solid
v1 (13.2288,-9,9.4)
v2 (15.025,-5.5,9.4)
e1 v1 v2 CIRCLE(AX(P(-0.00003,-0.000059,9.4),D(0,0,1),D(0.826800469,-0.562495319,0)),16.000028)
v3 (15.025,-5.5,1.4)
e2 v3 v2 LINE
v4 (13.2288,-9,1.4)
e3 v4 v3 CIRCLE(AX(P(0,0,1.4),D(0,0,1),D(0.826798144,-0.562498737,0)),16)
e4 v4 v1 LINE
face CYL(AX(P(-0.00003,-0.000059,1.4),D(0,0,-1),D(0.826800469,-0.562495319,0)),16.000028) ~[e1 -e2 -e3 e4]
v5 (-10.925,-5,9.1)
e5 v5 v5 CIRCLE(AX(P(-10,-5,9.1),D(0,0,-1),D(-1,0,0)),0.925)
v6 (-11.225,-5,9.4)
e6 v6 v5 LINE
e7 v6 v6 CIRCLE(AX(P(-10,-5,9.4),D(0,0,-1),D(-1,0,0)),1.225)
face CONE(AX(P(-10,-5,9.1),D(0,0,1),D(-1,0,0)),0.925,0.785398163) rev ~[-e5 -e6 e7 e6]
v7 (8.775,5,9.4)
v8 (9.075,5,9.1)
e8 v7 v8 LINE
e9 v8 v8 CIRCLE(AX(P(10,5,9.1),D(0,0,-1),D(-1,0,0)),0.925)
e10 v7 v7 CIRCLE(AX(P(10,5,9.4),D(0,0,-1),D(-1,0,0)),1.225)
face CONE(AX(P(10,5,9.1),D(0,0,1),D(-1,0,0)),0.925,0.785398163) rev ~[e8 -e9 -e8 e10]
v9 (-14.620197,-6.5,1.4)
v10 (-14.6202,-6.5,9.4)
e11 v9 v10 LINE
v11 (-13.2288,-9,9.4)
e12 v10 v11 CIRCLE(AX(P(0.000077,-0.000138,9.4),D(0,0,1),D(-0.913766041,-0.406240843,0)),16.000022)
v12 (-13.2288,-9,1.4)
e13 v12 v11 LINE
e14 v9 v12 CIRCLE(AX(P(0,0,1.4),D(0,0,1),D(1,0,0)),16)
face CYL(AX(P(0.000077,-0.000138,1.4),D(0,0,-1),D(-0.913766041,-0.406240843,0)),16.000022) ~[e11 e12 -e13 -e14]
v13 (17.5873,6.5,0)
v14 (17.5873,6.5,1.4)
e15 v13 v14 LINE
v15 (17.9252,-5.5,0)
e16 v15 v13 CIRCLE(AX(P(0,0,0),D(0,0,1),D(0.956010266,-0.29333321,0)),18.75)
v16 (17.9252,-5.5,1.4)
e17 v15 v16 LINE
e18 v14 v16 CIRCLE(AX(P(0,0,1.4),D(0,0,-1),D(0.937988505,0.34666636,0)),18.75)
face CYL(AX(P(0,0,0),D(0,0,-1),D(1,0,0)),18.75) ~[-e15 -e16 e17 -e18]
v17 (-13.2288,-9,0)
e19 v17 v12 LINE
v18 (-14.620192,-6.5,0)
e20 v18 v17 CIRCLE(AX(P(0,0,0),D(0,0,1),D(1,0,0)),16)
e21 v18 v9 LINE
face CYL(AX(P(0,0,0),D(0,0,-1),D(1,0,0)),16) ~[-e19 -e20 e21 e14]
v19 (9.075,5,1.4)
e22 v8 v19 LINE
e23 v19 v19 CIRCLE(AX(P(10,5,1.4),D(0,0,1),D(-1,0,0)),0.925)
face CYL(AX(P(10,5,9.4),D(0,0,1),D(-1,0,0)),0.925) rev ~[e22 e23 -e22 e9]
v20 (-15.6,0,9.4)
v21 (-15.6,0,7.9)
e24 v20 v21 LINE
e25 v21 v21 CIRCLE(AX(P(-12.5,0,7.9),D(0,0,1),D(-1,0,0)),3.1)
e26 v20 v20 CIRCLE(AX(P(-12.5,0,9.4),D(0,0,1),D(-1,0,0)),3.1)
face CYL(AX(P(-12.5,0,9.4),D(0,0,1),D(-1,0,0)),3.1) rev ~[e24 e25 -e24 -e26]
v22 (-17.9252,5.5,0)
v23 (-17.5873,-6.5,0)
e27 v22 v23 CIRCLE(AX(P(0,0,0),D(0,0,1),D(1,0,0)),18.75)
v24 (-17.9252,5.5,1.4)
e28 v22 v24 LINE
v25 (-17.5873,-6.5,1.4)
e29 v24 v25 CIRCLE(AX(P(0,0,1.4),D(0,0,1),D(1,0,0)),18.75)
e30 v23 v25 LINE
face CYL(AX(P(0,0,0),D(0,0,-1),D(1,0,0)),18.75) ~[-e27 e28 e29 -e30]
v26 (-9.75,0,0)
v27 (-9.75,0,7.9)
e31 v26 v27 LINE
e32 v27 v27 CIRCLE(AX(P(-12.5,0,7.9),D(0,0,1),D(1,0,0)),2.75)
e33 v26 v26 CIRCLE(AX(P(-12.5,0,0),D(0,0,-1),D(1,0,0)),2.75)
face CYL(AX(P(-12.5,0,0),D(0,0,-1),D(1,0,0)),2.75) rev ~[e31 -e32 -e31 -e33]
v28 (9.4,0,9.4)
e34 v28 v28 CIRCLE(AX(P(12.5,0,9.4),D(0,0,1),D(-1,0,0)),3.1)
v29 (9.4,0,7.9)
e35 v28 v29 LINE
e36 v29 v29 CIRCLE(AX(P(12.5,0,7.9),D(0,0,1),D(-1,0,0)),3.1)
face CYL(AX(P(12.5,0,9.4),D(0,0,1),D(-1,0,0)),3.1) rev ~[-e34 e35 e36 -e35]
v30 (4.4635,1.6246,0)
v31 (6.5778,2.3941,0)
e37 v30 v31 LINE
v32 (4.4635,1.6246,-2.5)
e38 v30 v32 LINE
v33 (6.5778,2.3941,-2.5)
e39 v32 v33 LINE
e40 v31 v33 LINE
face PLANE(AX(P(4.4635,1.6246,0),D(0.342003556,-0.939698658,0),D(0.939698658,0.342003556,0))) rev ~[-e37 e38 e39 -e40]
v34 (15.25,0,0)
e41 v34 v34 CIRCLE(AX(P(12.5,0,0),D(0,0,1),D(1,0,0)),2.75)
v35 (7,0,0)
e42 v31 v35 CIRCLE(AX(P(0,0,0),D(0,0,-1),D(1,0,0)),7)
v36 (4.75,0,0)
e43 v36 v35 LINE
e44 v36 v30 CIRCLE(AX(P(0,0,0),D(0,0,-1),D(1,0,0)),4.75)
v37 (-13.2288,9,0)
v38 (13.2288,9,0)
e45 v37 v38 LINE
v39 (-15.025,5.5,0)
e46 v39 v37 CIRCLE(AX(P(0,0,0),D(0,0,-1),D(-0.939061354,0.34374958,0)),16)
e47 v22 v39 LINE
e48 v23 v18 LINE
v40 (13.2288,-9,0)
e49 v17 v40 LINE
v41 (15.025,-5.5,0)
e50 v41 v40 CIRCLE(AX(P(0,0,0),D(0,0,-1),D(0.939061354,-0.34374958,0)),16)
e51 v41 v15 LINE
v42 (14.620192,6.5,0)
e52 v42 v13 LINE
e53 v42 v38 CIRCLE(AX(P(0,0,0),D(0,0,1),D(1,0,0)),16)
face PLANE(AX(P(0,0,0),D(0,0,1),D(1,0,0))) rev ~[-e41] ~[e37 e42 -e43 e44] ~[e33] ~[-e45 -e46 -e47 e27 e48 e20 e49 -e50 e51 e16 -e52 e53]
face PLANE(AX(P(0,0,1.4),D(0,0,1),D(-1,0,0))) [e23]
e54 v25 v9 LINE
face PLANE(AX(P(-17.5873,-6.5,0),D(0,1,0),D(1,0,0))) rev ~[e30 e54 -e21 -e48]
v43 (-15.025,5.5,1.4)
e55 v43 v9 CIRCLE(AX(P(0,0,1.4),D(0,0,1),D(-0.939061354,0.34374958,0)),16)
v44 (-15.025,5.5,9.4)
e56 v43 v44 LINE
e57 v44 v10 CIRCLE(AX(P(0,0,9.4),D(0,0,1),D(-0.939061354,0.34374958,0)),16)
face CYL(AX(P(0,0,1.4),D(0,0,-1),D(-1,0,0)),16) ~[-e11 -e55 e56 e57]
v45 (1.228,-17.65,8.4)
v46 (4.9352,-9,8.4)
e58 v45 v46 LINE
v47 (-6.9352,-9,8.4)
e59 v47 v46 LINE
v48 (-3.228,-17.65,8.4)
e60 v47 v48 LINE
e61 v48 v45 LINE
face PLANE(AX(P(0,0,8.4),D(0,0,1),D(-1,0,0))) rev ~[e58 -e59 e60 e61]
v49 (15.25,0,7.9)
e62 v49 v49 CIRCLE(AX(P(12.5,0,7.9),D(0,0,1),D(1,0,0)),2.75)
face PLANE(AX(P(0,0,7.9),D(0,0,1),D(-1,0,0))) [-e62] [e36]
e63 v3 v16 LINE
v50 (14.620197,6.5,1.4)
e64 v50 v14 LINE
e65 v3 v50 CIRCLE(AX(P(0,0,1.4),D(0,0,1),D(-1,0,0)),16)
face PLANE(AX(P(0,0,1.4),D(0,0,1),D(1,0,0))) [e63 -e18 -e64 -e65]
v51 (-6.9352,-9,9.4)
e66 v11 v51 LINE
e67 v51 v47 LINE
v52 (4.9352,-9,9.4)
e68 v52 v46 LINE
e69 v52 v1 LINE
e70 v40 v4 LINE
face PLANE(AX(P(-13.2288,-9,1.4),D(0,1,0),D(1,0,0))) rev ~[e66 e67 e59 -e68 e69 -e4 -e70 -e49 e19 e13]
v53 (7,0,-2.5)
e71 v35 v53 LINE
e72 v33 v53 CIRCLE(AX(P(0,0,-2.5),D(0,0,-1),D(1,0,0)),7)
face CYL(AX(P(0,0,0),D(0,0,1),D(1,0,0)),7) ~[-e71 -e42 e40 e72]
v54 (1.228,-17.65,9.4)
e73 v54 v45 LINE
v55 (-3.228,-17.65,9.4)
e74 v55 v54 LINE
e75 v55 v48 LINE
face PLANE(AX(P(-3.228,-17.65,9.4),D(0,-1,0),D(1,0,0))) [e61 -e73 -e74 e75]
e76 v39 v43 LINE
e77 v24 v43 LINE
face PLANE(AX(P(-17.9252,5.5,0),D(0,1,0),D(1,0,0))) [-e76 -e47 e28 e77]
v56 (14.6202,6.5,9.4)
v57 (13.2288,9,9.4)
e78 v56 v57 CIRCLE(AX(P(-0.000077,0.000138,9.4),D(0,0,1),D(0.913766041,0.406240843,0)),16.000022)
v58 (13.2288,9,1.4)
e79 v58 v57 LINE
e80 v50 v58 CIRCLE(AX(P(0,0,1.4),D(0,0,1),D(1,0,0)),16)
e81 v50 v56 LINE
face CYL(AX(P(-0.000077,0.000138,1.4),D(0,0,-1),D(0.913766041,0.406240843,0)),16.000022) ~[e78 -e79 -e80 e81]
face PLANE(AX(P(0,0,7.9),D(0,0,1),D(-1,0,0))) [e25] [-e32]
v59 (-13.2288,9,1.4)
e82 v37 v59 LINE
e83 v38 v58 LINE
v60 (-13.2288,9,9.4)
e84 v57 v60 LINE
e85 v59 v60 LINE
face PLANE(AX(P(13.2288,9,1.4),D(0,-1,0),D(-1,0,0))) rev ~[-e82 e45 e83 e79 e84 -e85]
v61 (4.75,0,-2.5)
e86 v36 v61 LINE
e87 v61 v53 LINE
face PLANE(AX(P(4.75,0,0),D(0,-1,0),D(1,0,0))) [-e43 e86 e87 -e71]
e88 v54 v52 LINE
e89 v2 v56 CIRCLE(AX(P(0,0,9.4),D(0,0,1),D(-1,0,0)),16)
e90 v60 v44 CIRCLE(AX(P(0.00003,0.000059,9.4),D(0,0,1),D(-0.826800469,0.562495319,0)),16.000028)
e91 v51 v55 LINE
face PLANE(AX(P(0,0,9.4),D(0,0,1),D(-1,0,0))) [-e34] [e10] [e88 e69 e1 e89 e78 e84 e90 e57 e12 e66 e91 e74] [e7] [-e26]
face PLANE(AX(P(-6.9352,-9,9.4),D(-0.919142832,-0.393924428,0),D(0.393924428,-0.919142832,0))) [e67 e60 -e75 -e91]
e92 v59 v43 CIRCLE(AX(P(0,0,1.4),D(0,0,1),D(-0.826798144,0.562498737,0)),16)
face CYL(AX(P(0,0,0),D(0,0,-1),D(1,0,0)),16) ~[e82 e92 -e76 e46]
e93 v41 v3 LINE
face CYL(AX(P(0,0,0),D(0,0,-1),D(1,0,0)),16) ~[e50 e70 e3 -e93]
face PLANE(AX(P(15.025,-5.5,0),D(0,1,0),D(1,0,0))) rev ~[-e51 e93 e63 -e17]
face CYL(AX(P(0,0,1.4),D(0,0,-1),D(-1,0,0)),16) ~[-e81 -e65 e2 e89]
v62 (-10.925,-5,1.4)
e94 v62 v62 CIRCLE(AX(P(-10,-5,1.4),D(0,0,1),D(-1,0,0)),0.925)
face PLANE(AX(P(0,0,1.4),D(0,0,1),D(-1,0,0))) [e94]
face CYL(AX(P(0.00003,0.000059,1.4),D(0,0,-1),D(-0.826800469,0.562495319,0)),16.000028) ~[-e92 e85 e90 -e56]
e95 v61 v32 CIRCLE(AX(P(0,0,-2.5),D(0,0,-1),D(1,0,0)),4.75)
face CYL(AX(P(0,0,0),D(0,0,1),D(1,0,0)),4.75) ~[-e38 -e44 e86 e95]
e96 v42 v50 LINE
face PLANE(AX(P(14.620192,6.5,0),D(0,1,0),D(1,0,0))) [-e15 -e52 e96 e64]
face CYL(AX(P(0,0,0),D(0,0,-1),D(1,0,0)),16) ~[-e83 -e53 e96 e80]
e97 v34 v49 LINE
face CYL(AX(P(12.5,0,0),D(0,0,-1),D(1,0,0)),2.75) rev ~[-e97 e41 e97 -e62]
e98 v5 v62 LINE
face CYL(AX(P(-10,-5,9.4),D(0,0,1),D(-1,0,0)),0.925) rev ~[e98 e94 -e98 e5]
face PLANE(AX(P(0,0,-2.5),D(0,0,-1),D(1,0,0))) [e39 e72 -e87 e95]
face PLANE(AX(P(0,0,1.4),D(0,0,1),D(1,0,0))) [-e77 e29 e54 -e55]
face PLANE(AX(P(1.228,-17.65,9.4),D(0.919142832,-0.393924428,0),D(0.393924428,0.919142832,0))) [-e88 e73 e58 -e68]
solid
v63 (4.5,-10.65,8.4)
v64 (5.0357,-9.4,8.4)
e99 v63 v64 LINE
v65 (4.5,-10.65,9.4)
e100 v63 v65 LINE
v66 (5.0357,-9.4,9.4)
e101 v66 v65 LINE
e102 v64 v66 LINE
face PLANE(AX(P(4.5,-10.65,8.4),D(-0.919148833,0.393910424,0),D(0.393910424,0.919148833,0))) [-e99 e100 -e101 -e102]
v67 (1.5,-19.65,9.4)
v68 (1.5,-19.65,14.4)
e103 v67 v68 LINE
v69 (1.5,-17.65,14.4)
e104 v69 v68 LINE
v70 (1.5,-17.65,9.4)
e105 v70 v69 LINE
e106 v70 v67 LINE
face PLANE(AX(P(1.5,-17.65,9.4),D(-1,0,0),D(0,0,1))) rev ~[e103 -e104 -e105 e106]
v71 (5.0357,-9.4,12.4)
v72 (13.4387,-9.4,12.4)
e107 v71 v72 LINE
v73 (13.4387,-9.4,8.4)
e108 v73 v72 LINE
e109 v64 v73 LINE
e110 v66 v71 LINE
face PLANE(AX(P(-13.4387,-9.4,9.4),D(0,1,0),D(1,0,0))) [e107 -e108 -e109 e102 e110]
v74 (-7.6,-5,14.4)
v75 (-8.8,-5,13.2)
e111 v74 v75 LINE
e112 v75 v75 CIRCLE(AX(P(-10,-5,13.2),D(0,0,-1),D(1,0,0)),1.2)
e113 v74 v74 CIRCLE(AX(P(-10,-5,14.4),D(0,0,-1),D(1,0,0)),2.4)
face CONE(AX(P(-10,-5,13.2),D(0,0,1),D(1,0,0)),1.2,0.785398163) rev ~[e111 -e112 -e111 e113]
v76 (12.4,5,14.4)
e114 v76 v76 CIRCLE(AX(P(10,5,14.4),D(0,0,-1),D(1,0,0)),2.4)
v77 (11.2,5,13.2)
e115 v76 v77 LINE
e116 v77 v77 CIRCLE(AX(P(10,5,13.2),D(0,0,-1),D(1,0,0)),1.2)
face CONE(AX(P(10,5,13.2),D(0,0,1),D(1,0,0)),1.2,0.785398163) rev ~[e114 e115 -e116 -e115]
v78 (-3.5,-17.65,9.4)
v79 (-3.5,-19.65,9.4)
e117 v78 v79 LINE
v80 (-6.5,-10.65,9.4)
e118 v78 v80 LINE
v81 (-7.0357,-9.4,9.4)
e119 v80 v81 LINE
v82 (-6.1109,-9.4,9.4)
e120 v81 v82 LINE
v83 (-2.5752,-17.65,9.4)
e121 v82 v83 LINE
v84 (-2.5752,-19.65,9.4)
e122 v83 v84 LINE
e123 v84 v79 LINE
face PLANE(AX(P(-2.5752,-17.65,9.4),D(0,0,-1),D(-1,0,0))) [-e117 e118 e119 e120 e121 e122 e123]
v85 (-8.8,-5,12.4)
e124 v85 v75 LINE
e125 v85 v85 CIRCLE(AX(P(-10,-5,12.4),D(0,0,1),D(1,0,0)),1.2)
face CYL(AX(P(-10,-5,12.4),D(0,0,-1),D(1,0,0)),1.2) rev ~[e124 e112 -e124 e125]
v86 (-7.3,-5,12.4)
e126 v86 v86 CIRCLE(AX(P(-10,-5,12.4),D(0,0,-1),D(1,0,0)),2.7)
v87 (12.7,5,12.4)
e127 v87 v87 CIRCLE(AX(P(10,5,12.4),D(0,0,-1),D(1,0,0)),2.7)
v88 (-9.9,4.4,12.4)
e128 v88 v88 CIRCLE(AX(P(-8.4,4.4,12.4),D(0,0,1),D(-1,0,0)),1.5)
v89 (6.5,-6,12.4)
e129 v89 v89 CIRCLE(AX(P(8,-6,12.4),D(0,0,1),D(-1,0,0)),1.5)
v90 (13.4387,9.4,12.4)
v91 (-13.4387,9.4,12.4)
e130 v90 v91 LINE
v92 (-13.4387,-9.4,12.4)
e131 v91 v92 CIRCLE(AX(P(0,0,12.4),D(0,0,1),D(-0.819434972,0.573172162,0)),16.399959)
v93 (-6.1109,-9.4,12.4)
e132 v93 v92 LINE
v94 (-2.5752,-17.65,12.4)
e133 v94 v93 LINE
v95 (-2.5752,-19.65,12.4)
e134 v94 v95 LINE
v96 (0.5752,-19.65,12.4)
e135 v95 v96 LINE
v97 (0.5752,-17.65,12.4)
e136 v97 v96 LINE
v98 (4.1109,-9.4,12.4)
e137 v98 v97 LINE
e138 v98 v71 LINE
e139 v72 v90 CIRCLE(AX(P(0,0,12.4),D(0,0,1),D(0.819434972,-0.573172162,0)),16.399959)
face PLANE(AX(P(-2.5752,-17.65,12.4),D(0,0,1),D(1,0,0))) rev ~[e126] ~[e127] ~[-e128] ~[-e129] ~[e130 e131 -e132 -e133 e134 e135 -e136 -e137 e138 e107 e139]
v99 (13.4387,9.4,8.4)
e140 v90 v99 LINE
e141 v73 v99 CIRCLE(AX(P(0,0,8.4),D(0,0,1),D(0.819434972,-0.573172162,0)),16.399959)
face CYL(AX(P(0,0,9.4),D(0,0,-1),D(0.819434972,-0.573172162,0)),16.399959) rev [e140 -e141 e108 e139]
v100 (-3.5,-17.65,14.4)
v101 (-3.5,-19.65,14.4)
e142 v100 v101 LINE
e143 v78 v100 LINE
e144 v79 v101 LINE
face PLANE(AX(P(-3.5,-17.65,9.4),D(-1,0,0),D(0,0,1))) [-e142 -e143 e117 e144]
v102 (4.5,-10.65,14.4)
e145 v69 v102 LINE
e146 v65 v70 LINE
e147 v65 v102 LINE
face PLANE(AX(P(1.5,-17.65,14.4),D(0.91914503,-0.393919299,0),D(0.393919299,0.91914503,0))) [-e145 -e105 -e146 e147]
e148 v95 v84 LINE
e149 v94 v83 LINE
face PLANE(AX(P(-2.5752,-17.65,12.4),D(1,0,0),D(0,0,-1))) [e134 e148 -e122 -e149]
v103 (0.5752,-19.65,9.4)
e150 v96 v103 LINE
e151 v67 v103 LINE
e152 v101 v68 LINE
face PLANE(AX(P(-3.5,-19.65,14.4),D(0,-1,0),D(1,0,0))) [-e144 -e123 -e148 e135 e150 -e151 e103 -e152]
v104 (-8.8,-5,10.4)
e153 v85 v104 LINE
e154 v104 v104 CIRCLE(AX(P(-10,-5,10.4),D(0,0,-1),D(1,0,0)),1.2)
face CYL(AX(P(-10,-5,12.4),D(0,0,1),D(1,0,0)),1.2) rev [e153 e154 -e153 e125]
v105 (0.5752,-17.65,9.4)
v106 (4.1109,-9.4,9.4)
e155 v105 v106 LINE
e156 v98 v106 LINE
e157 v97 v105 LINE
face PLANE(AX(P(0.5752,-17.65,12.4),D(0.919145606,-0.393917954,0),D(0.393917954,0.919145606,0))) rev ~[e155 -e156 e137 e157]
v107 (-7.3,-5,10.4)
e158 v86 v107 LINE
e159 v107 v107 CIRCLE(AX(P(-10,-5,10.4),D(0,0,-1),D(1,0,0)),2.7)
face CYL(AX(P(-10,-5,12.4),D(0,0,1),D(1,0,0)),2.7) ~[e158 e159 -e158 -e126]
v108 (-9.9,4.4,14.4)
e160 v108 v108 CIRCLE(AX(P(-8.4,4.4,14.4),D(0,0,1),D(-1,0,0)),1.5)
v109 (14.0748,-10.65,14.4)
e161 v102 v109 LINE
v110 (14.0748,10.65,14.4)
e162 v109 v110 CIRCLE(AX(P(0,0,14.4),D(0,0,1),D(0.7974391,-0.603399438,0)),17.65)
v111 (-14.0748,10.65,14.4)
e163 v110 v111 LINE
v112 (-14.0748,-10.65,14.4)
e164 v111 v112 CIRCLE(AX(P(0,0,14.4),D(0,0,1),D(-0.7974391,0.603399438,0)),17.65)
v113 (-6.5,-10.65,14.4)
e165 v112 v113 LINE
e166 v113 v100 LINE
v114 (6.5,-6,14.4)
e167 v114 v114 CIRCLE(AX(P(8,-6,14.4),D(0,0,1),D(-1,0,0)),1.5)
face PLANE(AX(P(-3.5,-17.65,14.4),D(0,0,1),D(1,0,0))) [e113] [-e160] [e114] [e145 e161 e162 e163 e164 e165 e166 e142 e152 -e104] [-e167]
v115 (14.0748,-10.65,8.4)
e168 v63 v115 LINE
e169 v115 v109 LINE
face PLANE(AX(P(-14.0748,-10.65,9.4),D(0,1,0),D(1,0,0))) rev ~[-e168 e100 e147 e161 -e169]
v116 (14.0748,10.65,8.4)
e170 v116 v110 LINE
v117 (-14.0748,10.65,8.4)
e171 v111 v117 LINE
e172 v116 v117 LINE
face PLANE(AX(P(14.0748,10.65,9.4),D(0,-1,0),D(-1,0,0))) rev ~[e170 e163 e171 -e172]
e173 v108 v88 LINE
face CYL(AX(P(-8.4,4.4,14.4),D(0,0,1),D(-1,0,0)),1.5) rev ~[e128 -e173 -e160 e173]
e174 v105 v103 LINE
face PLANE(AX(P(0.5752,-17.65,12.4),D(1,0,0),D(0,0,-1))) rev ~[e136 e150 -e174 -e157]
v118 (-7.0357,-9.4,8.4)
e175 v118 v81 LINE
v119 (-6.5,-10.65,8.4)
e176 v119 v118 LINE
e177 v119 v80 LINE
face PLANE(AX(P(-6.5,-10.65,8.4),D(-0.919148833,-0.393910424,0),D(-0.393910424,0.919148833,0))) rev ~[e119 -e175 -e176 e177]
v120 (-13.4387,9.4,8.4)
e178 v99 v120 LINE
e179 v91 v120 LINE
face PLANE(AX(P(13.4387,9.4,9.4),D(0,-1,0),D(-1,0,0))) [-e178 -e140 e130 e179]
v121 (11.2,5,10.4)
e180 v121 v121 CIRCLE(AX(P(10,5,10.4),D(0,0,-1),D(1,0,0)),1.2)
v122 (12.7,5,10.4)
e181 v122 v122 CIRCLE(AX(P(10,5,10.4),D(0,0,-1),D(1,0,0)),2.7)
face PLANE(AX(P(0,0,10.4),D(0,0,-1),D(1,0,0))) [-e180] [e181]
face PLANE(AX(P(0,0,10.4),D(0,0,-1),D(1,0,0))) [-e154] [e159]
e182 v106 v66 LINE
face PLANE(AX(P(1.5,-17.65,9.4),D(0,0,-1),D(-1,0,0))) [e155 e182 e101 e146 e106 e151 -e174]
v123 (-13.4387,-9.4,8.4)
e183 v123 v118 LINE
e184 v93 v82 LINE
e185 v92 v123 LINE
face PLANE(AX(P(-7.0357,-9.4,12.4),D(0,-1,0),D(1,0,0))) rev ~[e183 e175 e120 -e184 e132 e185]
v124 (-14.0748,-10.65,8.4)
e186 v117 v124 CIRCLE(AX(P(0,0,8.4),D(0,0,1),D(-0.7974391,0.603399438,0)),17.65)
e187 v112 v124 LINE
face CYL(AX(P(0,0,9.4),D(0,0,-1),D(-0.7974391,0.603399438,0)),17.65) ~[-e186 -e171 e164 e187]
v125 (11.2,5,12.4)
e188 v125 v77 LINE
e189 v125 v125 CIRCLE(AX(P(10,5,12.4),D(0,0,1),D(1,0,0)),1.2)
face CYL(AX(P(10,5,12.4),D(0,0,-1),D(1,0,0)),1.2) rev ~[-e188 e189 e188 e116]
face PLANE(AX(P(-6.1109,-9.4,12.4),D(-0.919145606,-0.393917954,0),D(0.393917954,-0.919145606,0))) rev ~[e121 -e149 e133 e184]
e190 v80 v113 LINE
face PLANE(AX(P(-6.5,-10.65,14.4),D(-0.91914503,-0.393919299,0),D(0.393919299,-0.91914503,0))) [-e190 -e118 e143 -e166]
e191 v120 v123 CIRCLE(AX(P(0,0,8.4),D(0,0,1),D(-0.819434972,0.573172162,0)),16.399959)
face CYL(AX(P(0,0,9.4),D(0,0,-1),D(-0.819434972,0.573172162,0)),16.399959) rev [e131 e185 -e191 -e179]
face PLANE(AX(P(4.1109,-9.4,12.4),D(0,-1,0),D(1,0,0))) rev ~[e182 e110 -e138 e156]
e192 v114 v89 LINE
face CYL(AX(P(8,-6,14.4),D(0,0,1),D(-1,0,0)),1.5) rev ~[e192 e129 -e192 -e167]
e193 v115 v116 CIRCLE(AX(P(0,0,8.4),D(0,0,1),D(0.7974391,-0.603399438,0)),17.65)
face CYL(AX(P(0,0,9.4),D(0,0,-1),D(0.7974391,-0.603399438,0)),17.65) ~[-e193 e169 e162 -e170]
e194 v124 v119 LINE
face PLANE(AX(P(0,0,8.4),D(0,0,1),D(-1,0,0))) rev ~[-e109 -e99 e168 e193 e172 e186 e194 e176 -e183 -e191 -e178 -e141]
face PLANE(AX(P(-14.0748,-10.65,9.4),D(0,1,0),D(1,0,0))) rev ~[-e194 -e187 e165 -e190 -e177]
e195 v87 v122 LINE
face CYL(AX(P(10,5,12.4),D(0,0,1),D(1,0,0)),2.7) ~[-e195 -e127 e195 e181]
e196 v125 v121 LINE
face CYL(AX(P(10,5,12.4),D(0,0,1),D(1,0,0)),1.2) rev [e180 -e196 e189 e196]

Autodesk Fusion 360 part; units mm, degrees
sketch "Sketch1" plane through (0, 0, 0) normal (0, 0, 1) x (1, 0, 0)
  circle A0 centre (0, 0) radius 18.75
  line L0 (-17.5873, 6.5) -> (17.5873, 6.5)
  line L1 (-17.5873, -6.5) -> (17.5873, -6.5)
  circle A1 centre (0, 0) radius 16
  line L2 (-17.9252, 5.5) -> (-15.025, 5.5)
  line L3 (15.025, -5.5) -> (17.9252, -5.5)
  line L4 (-13.2288, -9) -> (13.2288, -9)
  line L5 (-13.2288, 9) -> (13.2288, 9)
  dimension "d1" = 37.5
  dimension "d2" = 13
  dimension "d17" = 32
  dimension "d18" = 1
  dimension "d19" = 1
  dimension "d20" = 18
extrude "Extrude1" add sketch "Sketch1" along normal blind 1.4 contours A0 L0 A1 L3 | L0 L1 A1 | L0 A1 L5 | A0 L1 A1 L2 | L1 A1 L4 makes body 1
sketch "Sketch2" plane through (0, 0, 0) normal (0, 0, -1) x (1, 0, 0)
  line L0 (-14.6202, 6.5) -> (-17.5873, 6.5)
  circle A0 centre (0, 0) radius 4.75
  circle A1 centre (0, 0) radius 7
  line L1 (4.75, 0) -> (7, 0)
  line L2 (4.4635, -1.6246) -> (6.5778, -2.3941)
  line L3 (4.4635, -1.6246) -> (0, 0)
  arc A2 (17.5873, -6.5) -> (17.9252, 5.5) centre (0, 0) ccw
  line L4 (14.6202, -6.5) -> (17.5873, -6.5)
  arc A3 (-15.025, -5.5) -> (-13.2288, -9) centre (0, 0) ccw
  line L5 (-13.2288, -9) -> (13.2288, -9)
  arc A4 (13.2288, -9) -> (14.6202, -6.5) centre (0, 0) ccw
  line L6 (17.9252, 5.5) -> (15.025, 5.5)
  arc A5 (15.025, 5.5) -> (13.2288, 9) centre (0, 0) ccw
  line L7 (13.2288, 9) -> (-13.2288, 9)
  arc A6 (-13.2288, 9) -> (-14.6202, 6.5) centre (0, 0) ccw
  arc A7 (-17.5873, 6.5) -> (-17.9252, -5.5) centre (0, 0) ccw
  line L8 (-17.9252, -5.5) -> (-15.025, -5.5)
  dimension "d10" = 9.5
  dimension "d11" = 14
  dimension "d12" = 20
extrude "Extrude2" add sketch "Sketch2" along normal blind 2.5 contours A0 | A0 A1 L1 L2 picked at (6.2235, -0.4547) bodies 1
sketch "Sketch4" plane through (0, 0, 1.4) normal (0, 0, 1) x (-1, 0, 0)
  arc A0 (13.2288, -9) -> (15.025, -5.5) centre (0, 0) ccw
  line L0 (15.025, -5.5) -> (17.9252, -5.5)
  arc A1 (17.9252, -5.5) -> (17.5873, 6.5) centre (0, 0) ccw
  line L1 (17.5873, 6.5) -> (14.6202, 6.5)
  arc A2 (14.6202, 6.5) -> (13.2288, 9) centre (0, 0) ccw
  line L2 (13.2288, 9) -> (-13.2288, 9)
  arc A3 (-13.2288, 9) -> (-15.025, 5.5) centre (0, 0) ccw
  line L3 (-15.025, 5.5) -> (-17.9252, 5.5)
  arc A4 (-17.9252, 5.5) -> (-17.5873, -6.5) centre (0, 0) ccw
  line L4 (-17.5873, -6.5) -> (-14.6202, -6.5)
  arc A5 (-14.6202, -6.5) -> (-13.2288, -9) centre (0, 0) ccw
  line L5 (-13.2288, -9) -> (13.2288, -9)
  circle A6 centre (0, 0) radius 16
extrude "Extrude3" add sketch "Sketch4" along normal blind 8 contours A0 A2 L2 A3 A5 L5 A6 bodies 1
sketch "Sketch5" plane through (0, 0, 0) normal (0, 0, -1) x (1, 0, 0)
  line L0 (4.75, 0) -> (7, 0)
  arc A0 (6.5778, -2.3941) -> (7, 0) centre (0, 0) ccw
  line L1 (6.5778, -2.3941) -> (4.4635, -1.6246)
  arc A1 (4.75, 0) -> (4.4635, -1.6246) centre (0, 0) ccw
  arc A2 (-15.025, -5.5) -> (-13.2288, -9) centre (0, 0) ccw
  line L2 (-13.2288, -9) -> (13.2288, -9)
  arc A3 (13.2288, -9) -> (14.6202, -6.5) centre (0, 0) ccw
  line L3 (14.6202, -6.5) -> (17.5873, -6.5)
  arc A4 (17.5873, -6.5) -> (17.9252, 5.5) centre (0, 0) ccw
  line L4 (17.9252, 5.5) -> (15.025, 5.5)
  arc A5 (15.025, 5.5) -> (13.2288, 9) centre (0, 0) ccw
  line L5 (13.2288, 9) -> (-13.2288, 9)
  arc A6 (-13.2288, 9) -> (-14.6202, 6.5) centre (0, 0) ccw
  line L6 (-14.6202, 6.5) -> (-17.5873, 6.5)
  arc A7 (-17.5873, 6.5) -> (-17.9252, -5.5) centre (0, 0) ccw
  line L7 (-17.9252, -5.5) -> (-15.025, -5.5)
  circle A8 centre (-12.5, 0) radius 2.75
  circle A9 centre (12.5, 0) radius 2.75
  line L8 (-12.5, 0) -> (12.5, 0)
  dimension "d23" = 5.5
  dimension "d24" = 5.5
  dimension "d25" = 25
extrude "Extrude4" cut sketch "Sketch5" against normal blind 10 contours A9 | A8 bodies 1
sketch "Sketch6" plane through (0, 0, 9.4) normal (0, 0, 1) x (-1, 0, 0)
  circle A0 centre (12.5, 0) radius 2.75
  circle A1 centre (-12.5, 0) radius 2.75
  arc A2 (13.2288, -9) -> (13.2288, 9) centre (0, 0) ccw
  line L0 (13.2288, 9) -> (-13.2288, 9)
  arc A3 (-13.2288, 9) -> (-13.2288, -9) centre (0, 0) ccw
  line L1 (-13.2288, -9) -> (13.2288, -9)
  circle A4 centre (12.5, 0) radius 3.1
  circle A5 centre (-12.5, 0) radius 3.1
  dimension "d28" = 6.2
  dimension "d29" = 6.2
extrude "Extrude5" cut sketch "Sketch6" against normal blind 1.5 contours A4 | A5 bodies 1
sketch "Sketch7" plane through (0, 0, 9.4) normal (0, 0, 1) x (-1, 0, 0)
  circle A0 centre (-12.5, 0) radius 3.1
  circle A1 centre (12.5, 0) radius 3.1
  arc A2 (13.2288, -9) -> (13.2288, 9) centre (0, 0) ccw
  line L0 (13.2288, 9) -> (-13.2288, 9)
  arc A3 (-13.2288, 9) -> (-13.2288, -9) centre (0, 0) ccw
  line L1 (-13.2288, -9) -> (13.2288, -9)
  circle A4 centre (10, 5) radius 0.925
  circle A5 centre (-10, -5) radius 0.925
  line L2 (10, 5) -> (-10, -5)
  dimension "d32" = 1.85
  dimension "d33" = 1.85
  dimension "d34" = 20
  dimension "d35" = 10
extrude "Extrude6" cut sketch "Sketch7" against normal blind 8 contours A4 | A5 bodies 1
chamfer "Chamfer1" distance 0.3 angle 45 2 edges at (-9.1376, -5.3345, 9.4) (10.8624, 4.6655, 9.4) on bodies 1
copy_body "Body->Comp1" bodies 1 removing the originals makes body 2 in component "bottom"
sketch "Sketch3" plane through (0, 0, 9.4) normal (0, 0, 1) x (-1, 0, 0) in component "top"
  circle A0 centre (10, 5) radius 1.225
  circle A1 centre (-12.5, 0) radius 3.1
  circle A2 centre (12.5, 0) radius 3.1
  arc A3 (13.2288, -9) -> (13.2288, 9) centre (0, 0) ccw
  line L0 (13.2288, 9) -> (-13.2288, 9)
  arc A4 (-13.2288, 9) -> (-13.2288, -9) centre (0, 0) ccw
  line L1 (-13.2288, -9) -> (13.2288, -9)
  circle A5 centre (-10, -5) radius 1.225
  arc A6 (-13.4387, 9.4) -> (-13.4387, -9.4) centre (0, 0) ccw
  line L2 (-13.4387, -9.4) -> (13.4387, -9.4)
  arc A7 (13.4387, -9.4) -> (13.4387, 9.4) centre (0, 0) ccw
  line L3 (13.4387, 9.4) -> (-13.4387, 9.4)
  arc A8 (-14.0748, 10.65) -> (-14.0748, -10.65) centre (0, 0) ccw
  line L4 (-14.0748, -10.65) -> (14.0748, -10.65)
  arc A9 (14.0748, -10.65) -> (14.0748, 10.65) centre (0, 0) ccw
  line L5 (14.0748, 10.65) -> (-14.0748, 10.65)
  dimension "d41" = 0.4
  dimension "d42" = 1.65
extrude "Extrude1'" add sketch "Sketch3" along normal blind 3 and the other way blind 1 separate body contours A8 L4 A9 L5 makes body 3 in component "top"
sketch "Sketch4 (2)" plane through (0, 0, 12.4) normal (0, 0, 1) x (-1, 0, 0) in component "top"
  line L0 (-13.4387, 9.4) -> (13.4387, 9.4)
  arc A0 (13.4387, -9.4) -> (13.4387, 9.4) centre (0, 0) ccw
  line L1 (13.4387, -9.4) -> (-13.4387, -9.4)
  arc A1 (-13.4387, 9.4) -> (-13.4387, -9.4) centre (0, 0) ccw
  line L2 (14.0748, 10.65) -> (-14.0748, 10.65)
  arc A2 (-14.0748, 10.65) -> (-14.0748, -10.65) centre (0, 0) ccw
  line L3 (-14.0748, -10.65) -> (14.0748, -10.65)
  arc A3 (14.0748, -10.65) -> (14.0748, 10.65) centre (0, 0) ccw
extrude "Extrude2'" add sketch "Sketch4 (2)" along normal blind 2 contours L0 A0 L1 A1 | L2 A2 L3 A3 bodies 3 in component "top"
sketch "Sketch5 (2)" plane through (0, 0, 12.4) normal (0, 0, -1) x (1, 0, 0) in component "top"
  arc A0 (13.4387, -9.4) -> (13.4387, 9.4) centre (0, 0) ccw
  line L0 (13.4387, 9.4) -> (-13.4387, 9.4)
  arc A1 (-13.4387, 9.4) -> (-13.4387, -9.4) centre (0, 0) ccw
  line L1 (-13.4387, -9.4) -> (13.4387, -9.4)
  circle A2 centre (-10, 5) radius 1.2
  circle A3 centre (10, -5) radius 1.2
  line L2 (-10, 5) -> (10, -5)
  dimension "d49" = 2.4
  dimension "d50" = 2.4
  dimension "d51" = 20
  dimension "d52" = 10
extrude "Extrude3'" cut sketch "Sketch5 (2)" against normal blind 5 contours A2 | A3 bodies 3 in component "top"
sketch "Sketch6 (2)" plane through (0, 0, 12.4) normal (0, 0, -1) x (1, 0, 0) in component "top"
  circle A0 centre (-10, 5) radius 1.2
  circle A1 centre (10, -5) radius 1.2
  arc A2 (13.4387, -9.4) -> (13.4387, 9.4) centre (0, 0) ccw
  line L0 (13.4387, 9.4) -> (-13.4387, 9.4)
  arc A3 (-13.4387, 9.4) -> (-13.4387, -9.4) centre (0, 0) ccw
  line L1 (-13.4387, -9.4) -> (13.4387, -9.4)
  circle A4 centre (-10, 5) radius 1.2
  circle A5 centre (-10, 5) radius 2.7
  circle A6 centre (10, -5) radius 1.2
  circle A7 centre (10, -5) radius 2.7
  circle A8 centre (10, -5) radius 1.2
  dimension "d55" = 1.5
  dimension "d56" = 1.5
extrude "Extrude4'" add sketch "Sketch6 (2)" along normal blind 2 contours A5 | A7 bodies 3 in component "top"
chamfer "Chamfer1'" distance 1.2 angle 45 2 edges at (-11.1188, -4.5661, 14.4) (8.8812, 5.4339, 14.4) on bodies 3 in component "top"
sketch "Sketch8" plane through (0, 0, 14.4) normal (0, 0, 1) x (-1, 0, 0)
  circle A0 centre (10, 5) radius 2.4
  arc A1 (14.0748, -10.65) -> (14.0748, 10.65) centre (0, 0) ccw
  line L0 (14.0748, 10.65) -> (-14.0748, 10.65)
  arc A2 (-14.0748, 10.65) -> (-14.0748, -10.65) centre (0, 0) ccw
  line L1 (-14.0748, -10.65) -> (14.0748, -10.65)
  circle A3 centre (-10, -5) radius 2.4
  line L2 (6.5, 10.65) -> (3.5, 17.65)
  line L3 (3.5, 17.65) -> (-1.5, 17.65)
  line L4 (-1.5, 17.65) -> (-4.5, 10.65)
  point P0 (1, 17.65)
  dimension "d60" = 7
  dimension "d61" = 3
  dimension "d62" = 5
  dimension "d63" = 3
  dimension "d64" = 9
extrude "Extrude5'" add sketch "Sketch8" against normal blind 2 contours L0 L2 L3 L4 bodies 3 in component "top"
sketch "Sketch9" plane through (0, 0, 8.4) normal (0, 0, -1) x (1, 0, 0)
  line L0 (-13.4387, 9.4) -> (13.4387, 9.4)
  arc A0 (13.4387, -9.4) -> (13.4387, 9.4) centre (0, 0) ccw
  line L1 (13.4387, -9.4) -> (-13.4387, -9.4)
  arc A1 (-13.4387, 9.4) -> (-13.4387, -9.4) centre (0, 0) ccw
  line L2 (14.0748, 10.65) -> (-14.0748, 10.65)
  arc A2 (-14.0748, 10.65) -> (-14.0748, -10.65) centre (0, 0) ccw
  line L3 (-14.0748, -10.65) -> (14.0748, -10.65)
  arc A3 (14.0748, -10.65) -> (14.0748, 10.65) centre (0, 0) ccw
  line L4 (-6.5, 10.65) -> (-7.0357, 9.4)
  line L5 (4.5, 10.65) -> (5.0357, 9.4)
  line L6 (-3.5, 17.65) -> (-6.5, 10.65)
  line L7 (4.5, 10.65) -> (1.5, 17.65)
extrude "Extrude6'" cut sketch "Sketch9" against normal blind 4 contours L0 L2 L4 L5 bodies 3 in component "top"
sketch "Sketch10" plane through (0, 0, 12.4) normal (0, 0, -1) x (1, 0, 0)
  circle A0 centre (-10, 5) radius 2.7
  circle A1 centre (10, -5) radius 2.7
  line L0 (-3.5, 17.65) -> (-6.5, 10.65)
  line L1 (-6.5, 10.65) -> (-7.0357, 9.4)
  line L2 (-7.0357, 9.4) -> (-13.4387, 9.4)
  arc A2 (-13.4387, 9.4) -> (-13.4387, -9.4) centre (0, 0) ccw
  line L3 (-13.4387, -9.4) -> (13.4387, -9.4)
  arc A3 (13.4387, -9.4) -> (13.4387, 9.4) centre (0, 0) ccw
  line L4 (13.4387, 9.4) -> (5.0357, 9.4)
  line L5 (5.0357, 9.4) -> (4.5, 10.65)
  line L6 (4.5, 10.65) -> (1.5, 17.65)
  line L7 (1.5, 17.65) -> (-3.5, 17.65)
  line L8 (-7.0357, 9.4) -> (-6.1109, 9.4)
  line L9 (-6.1109, 9.4) -> (-2.5752, 17.65)
  line L10 (0.5752, 17.65) -> (4.1109, 9.4)
  line L11 (4.1109, 9.4) -> (5.0357, 9.4)
  dimension "d69" = 0.85
  dimension "d70" = 0.85
extrude "Extrude7" add sketch "Sketch10" along normal blind 3 contours L0 L1 L7 L8 L9 | L5 L6 L7 L10 L11 bodies 3 in component "top"
extrude "Extrude8" add 1 faces at (-0.4749, -17.65, 13.7333) along direction (0, -1, 0) blind 2 on bodies 3 bodies 3 in component "top"
sketch "Sketch11" plane through (0, 0, 14.4) normal (0, 0, 1) x (-1, 0, 0)
  circle A0 centre (10, 5) radius 2.4
  arc A1 (14.0748, -10.65) -> (14.0748, 10.65) centre (0, 0) ccw
  line L0 (14.0748, 10.65) -> (6.5, 10.65)
  line L1 (6.5, 10.65) -> (3.5, 17.65)
  line L2 (3.5, 17.65) -> (3.5, 19.65)
  line L3 (3.5, 19.65) -> (-1.5, 19.65)
  line L4 (-1.5, 19.65) -> (-1.5, 17.65)
  line L5 (-1.5, 17.65) -> (-4.5, 10.65)
  line L6 (-4.5, 10.65) -> (-14.0748, 10.65)
  arc A2 (-14.0748, 10.65) -> (-14.0748, -10.65) centre (0, 0) ccw
  line L7 (-14.0748, -10.65) -> (14.0748, -10.65)
  circle A3 centre (-10, -5) radius 2.4
  circle A4 centre (8.4, -4.4) radius 1.5
  circle A5 centre (-8, 6) radius 1.5
  circle A6 centre (10, 5) radius 1.2
  circle A7 centre (-10, -5) radius 1.2
  dimension "d75" = 3
  dimension "d76" = 3
  dimension "d77" = 1.6
  dimension "d78" = 0.6
  dimension "d79" = 2
  dimension "d80" = 1
extrude "Extrude9" cut sketch "Sketch11" against normal blind 2 contours A4 | A5 bodies 3 in component "top"
sketch "Sketch12" plane through (0, 0, 9.4) normal (0, 0, 1) x (-1, 0, 0)
  circle A0 centre (10, 5) radius 1.225
  circle A1 centre (-12.5, 0) radius 3.1
  circle A2 centre (12.5, 0) radius 3.1
  arc A3 (13.2288, -9) -> (13.2288, 9) centre (0, 0) ccw
  line L0 (13.2288, 9) -> (-13.2288, 9)
  arc A4 (-13.2288, 9) -> (-13.2288, -9) centre (0, 0) ccw
  line L1 (-13.2288, -9) -> (13.2288, -9)
  circle A5 centre (-10, -5) radius 1.225
  line L2 (6.9352, 9) -> (3.228, 17.65)
  line L3 (3.228, 17.65) -> (-1.228, 17.65)
  line L4 (-1.228, 17.65) -> (-4.9352, 9)
  line L5 (3.5, 17.65) -> (6.5, 10.65)
  line L6 (-4.5, 10.65) -> (-1.5, 17.65)
  point P0 (2.5752, 17.65)
  dimension "d93" = 0.25
  dimension "d94" = 0.25
extrude "Extrude3''" add sketch "Sketch12" against normal blind 1 contours L0 L2 L3 L4 bodies 2 in component "bottom"
component "top" placed x (1, 0, 0) y (0, 1, 0) z (0, 0, 1) at (0, 0, 0)
component "bottom" placed x (1, 0, 0) y (0, 1, 0) z (0, 0, 1) at (0, 0, 0)
equation "bottom_thickness = 1.4 mm"
equation "d8 = bottom_thickness"
equation "d42 = 1.25 mm + 0.4 mm"
